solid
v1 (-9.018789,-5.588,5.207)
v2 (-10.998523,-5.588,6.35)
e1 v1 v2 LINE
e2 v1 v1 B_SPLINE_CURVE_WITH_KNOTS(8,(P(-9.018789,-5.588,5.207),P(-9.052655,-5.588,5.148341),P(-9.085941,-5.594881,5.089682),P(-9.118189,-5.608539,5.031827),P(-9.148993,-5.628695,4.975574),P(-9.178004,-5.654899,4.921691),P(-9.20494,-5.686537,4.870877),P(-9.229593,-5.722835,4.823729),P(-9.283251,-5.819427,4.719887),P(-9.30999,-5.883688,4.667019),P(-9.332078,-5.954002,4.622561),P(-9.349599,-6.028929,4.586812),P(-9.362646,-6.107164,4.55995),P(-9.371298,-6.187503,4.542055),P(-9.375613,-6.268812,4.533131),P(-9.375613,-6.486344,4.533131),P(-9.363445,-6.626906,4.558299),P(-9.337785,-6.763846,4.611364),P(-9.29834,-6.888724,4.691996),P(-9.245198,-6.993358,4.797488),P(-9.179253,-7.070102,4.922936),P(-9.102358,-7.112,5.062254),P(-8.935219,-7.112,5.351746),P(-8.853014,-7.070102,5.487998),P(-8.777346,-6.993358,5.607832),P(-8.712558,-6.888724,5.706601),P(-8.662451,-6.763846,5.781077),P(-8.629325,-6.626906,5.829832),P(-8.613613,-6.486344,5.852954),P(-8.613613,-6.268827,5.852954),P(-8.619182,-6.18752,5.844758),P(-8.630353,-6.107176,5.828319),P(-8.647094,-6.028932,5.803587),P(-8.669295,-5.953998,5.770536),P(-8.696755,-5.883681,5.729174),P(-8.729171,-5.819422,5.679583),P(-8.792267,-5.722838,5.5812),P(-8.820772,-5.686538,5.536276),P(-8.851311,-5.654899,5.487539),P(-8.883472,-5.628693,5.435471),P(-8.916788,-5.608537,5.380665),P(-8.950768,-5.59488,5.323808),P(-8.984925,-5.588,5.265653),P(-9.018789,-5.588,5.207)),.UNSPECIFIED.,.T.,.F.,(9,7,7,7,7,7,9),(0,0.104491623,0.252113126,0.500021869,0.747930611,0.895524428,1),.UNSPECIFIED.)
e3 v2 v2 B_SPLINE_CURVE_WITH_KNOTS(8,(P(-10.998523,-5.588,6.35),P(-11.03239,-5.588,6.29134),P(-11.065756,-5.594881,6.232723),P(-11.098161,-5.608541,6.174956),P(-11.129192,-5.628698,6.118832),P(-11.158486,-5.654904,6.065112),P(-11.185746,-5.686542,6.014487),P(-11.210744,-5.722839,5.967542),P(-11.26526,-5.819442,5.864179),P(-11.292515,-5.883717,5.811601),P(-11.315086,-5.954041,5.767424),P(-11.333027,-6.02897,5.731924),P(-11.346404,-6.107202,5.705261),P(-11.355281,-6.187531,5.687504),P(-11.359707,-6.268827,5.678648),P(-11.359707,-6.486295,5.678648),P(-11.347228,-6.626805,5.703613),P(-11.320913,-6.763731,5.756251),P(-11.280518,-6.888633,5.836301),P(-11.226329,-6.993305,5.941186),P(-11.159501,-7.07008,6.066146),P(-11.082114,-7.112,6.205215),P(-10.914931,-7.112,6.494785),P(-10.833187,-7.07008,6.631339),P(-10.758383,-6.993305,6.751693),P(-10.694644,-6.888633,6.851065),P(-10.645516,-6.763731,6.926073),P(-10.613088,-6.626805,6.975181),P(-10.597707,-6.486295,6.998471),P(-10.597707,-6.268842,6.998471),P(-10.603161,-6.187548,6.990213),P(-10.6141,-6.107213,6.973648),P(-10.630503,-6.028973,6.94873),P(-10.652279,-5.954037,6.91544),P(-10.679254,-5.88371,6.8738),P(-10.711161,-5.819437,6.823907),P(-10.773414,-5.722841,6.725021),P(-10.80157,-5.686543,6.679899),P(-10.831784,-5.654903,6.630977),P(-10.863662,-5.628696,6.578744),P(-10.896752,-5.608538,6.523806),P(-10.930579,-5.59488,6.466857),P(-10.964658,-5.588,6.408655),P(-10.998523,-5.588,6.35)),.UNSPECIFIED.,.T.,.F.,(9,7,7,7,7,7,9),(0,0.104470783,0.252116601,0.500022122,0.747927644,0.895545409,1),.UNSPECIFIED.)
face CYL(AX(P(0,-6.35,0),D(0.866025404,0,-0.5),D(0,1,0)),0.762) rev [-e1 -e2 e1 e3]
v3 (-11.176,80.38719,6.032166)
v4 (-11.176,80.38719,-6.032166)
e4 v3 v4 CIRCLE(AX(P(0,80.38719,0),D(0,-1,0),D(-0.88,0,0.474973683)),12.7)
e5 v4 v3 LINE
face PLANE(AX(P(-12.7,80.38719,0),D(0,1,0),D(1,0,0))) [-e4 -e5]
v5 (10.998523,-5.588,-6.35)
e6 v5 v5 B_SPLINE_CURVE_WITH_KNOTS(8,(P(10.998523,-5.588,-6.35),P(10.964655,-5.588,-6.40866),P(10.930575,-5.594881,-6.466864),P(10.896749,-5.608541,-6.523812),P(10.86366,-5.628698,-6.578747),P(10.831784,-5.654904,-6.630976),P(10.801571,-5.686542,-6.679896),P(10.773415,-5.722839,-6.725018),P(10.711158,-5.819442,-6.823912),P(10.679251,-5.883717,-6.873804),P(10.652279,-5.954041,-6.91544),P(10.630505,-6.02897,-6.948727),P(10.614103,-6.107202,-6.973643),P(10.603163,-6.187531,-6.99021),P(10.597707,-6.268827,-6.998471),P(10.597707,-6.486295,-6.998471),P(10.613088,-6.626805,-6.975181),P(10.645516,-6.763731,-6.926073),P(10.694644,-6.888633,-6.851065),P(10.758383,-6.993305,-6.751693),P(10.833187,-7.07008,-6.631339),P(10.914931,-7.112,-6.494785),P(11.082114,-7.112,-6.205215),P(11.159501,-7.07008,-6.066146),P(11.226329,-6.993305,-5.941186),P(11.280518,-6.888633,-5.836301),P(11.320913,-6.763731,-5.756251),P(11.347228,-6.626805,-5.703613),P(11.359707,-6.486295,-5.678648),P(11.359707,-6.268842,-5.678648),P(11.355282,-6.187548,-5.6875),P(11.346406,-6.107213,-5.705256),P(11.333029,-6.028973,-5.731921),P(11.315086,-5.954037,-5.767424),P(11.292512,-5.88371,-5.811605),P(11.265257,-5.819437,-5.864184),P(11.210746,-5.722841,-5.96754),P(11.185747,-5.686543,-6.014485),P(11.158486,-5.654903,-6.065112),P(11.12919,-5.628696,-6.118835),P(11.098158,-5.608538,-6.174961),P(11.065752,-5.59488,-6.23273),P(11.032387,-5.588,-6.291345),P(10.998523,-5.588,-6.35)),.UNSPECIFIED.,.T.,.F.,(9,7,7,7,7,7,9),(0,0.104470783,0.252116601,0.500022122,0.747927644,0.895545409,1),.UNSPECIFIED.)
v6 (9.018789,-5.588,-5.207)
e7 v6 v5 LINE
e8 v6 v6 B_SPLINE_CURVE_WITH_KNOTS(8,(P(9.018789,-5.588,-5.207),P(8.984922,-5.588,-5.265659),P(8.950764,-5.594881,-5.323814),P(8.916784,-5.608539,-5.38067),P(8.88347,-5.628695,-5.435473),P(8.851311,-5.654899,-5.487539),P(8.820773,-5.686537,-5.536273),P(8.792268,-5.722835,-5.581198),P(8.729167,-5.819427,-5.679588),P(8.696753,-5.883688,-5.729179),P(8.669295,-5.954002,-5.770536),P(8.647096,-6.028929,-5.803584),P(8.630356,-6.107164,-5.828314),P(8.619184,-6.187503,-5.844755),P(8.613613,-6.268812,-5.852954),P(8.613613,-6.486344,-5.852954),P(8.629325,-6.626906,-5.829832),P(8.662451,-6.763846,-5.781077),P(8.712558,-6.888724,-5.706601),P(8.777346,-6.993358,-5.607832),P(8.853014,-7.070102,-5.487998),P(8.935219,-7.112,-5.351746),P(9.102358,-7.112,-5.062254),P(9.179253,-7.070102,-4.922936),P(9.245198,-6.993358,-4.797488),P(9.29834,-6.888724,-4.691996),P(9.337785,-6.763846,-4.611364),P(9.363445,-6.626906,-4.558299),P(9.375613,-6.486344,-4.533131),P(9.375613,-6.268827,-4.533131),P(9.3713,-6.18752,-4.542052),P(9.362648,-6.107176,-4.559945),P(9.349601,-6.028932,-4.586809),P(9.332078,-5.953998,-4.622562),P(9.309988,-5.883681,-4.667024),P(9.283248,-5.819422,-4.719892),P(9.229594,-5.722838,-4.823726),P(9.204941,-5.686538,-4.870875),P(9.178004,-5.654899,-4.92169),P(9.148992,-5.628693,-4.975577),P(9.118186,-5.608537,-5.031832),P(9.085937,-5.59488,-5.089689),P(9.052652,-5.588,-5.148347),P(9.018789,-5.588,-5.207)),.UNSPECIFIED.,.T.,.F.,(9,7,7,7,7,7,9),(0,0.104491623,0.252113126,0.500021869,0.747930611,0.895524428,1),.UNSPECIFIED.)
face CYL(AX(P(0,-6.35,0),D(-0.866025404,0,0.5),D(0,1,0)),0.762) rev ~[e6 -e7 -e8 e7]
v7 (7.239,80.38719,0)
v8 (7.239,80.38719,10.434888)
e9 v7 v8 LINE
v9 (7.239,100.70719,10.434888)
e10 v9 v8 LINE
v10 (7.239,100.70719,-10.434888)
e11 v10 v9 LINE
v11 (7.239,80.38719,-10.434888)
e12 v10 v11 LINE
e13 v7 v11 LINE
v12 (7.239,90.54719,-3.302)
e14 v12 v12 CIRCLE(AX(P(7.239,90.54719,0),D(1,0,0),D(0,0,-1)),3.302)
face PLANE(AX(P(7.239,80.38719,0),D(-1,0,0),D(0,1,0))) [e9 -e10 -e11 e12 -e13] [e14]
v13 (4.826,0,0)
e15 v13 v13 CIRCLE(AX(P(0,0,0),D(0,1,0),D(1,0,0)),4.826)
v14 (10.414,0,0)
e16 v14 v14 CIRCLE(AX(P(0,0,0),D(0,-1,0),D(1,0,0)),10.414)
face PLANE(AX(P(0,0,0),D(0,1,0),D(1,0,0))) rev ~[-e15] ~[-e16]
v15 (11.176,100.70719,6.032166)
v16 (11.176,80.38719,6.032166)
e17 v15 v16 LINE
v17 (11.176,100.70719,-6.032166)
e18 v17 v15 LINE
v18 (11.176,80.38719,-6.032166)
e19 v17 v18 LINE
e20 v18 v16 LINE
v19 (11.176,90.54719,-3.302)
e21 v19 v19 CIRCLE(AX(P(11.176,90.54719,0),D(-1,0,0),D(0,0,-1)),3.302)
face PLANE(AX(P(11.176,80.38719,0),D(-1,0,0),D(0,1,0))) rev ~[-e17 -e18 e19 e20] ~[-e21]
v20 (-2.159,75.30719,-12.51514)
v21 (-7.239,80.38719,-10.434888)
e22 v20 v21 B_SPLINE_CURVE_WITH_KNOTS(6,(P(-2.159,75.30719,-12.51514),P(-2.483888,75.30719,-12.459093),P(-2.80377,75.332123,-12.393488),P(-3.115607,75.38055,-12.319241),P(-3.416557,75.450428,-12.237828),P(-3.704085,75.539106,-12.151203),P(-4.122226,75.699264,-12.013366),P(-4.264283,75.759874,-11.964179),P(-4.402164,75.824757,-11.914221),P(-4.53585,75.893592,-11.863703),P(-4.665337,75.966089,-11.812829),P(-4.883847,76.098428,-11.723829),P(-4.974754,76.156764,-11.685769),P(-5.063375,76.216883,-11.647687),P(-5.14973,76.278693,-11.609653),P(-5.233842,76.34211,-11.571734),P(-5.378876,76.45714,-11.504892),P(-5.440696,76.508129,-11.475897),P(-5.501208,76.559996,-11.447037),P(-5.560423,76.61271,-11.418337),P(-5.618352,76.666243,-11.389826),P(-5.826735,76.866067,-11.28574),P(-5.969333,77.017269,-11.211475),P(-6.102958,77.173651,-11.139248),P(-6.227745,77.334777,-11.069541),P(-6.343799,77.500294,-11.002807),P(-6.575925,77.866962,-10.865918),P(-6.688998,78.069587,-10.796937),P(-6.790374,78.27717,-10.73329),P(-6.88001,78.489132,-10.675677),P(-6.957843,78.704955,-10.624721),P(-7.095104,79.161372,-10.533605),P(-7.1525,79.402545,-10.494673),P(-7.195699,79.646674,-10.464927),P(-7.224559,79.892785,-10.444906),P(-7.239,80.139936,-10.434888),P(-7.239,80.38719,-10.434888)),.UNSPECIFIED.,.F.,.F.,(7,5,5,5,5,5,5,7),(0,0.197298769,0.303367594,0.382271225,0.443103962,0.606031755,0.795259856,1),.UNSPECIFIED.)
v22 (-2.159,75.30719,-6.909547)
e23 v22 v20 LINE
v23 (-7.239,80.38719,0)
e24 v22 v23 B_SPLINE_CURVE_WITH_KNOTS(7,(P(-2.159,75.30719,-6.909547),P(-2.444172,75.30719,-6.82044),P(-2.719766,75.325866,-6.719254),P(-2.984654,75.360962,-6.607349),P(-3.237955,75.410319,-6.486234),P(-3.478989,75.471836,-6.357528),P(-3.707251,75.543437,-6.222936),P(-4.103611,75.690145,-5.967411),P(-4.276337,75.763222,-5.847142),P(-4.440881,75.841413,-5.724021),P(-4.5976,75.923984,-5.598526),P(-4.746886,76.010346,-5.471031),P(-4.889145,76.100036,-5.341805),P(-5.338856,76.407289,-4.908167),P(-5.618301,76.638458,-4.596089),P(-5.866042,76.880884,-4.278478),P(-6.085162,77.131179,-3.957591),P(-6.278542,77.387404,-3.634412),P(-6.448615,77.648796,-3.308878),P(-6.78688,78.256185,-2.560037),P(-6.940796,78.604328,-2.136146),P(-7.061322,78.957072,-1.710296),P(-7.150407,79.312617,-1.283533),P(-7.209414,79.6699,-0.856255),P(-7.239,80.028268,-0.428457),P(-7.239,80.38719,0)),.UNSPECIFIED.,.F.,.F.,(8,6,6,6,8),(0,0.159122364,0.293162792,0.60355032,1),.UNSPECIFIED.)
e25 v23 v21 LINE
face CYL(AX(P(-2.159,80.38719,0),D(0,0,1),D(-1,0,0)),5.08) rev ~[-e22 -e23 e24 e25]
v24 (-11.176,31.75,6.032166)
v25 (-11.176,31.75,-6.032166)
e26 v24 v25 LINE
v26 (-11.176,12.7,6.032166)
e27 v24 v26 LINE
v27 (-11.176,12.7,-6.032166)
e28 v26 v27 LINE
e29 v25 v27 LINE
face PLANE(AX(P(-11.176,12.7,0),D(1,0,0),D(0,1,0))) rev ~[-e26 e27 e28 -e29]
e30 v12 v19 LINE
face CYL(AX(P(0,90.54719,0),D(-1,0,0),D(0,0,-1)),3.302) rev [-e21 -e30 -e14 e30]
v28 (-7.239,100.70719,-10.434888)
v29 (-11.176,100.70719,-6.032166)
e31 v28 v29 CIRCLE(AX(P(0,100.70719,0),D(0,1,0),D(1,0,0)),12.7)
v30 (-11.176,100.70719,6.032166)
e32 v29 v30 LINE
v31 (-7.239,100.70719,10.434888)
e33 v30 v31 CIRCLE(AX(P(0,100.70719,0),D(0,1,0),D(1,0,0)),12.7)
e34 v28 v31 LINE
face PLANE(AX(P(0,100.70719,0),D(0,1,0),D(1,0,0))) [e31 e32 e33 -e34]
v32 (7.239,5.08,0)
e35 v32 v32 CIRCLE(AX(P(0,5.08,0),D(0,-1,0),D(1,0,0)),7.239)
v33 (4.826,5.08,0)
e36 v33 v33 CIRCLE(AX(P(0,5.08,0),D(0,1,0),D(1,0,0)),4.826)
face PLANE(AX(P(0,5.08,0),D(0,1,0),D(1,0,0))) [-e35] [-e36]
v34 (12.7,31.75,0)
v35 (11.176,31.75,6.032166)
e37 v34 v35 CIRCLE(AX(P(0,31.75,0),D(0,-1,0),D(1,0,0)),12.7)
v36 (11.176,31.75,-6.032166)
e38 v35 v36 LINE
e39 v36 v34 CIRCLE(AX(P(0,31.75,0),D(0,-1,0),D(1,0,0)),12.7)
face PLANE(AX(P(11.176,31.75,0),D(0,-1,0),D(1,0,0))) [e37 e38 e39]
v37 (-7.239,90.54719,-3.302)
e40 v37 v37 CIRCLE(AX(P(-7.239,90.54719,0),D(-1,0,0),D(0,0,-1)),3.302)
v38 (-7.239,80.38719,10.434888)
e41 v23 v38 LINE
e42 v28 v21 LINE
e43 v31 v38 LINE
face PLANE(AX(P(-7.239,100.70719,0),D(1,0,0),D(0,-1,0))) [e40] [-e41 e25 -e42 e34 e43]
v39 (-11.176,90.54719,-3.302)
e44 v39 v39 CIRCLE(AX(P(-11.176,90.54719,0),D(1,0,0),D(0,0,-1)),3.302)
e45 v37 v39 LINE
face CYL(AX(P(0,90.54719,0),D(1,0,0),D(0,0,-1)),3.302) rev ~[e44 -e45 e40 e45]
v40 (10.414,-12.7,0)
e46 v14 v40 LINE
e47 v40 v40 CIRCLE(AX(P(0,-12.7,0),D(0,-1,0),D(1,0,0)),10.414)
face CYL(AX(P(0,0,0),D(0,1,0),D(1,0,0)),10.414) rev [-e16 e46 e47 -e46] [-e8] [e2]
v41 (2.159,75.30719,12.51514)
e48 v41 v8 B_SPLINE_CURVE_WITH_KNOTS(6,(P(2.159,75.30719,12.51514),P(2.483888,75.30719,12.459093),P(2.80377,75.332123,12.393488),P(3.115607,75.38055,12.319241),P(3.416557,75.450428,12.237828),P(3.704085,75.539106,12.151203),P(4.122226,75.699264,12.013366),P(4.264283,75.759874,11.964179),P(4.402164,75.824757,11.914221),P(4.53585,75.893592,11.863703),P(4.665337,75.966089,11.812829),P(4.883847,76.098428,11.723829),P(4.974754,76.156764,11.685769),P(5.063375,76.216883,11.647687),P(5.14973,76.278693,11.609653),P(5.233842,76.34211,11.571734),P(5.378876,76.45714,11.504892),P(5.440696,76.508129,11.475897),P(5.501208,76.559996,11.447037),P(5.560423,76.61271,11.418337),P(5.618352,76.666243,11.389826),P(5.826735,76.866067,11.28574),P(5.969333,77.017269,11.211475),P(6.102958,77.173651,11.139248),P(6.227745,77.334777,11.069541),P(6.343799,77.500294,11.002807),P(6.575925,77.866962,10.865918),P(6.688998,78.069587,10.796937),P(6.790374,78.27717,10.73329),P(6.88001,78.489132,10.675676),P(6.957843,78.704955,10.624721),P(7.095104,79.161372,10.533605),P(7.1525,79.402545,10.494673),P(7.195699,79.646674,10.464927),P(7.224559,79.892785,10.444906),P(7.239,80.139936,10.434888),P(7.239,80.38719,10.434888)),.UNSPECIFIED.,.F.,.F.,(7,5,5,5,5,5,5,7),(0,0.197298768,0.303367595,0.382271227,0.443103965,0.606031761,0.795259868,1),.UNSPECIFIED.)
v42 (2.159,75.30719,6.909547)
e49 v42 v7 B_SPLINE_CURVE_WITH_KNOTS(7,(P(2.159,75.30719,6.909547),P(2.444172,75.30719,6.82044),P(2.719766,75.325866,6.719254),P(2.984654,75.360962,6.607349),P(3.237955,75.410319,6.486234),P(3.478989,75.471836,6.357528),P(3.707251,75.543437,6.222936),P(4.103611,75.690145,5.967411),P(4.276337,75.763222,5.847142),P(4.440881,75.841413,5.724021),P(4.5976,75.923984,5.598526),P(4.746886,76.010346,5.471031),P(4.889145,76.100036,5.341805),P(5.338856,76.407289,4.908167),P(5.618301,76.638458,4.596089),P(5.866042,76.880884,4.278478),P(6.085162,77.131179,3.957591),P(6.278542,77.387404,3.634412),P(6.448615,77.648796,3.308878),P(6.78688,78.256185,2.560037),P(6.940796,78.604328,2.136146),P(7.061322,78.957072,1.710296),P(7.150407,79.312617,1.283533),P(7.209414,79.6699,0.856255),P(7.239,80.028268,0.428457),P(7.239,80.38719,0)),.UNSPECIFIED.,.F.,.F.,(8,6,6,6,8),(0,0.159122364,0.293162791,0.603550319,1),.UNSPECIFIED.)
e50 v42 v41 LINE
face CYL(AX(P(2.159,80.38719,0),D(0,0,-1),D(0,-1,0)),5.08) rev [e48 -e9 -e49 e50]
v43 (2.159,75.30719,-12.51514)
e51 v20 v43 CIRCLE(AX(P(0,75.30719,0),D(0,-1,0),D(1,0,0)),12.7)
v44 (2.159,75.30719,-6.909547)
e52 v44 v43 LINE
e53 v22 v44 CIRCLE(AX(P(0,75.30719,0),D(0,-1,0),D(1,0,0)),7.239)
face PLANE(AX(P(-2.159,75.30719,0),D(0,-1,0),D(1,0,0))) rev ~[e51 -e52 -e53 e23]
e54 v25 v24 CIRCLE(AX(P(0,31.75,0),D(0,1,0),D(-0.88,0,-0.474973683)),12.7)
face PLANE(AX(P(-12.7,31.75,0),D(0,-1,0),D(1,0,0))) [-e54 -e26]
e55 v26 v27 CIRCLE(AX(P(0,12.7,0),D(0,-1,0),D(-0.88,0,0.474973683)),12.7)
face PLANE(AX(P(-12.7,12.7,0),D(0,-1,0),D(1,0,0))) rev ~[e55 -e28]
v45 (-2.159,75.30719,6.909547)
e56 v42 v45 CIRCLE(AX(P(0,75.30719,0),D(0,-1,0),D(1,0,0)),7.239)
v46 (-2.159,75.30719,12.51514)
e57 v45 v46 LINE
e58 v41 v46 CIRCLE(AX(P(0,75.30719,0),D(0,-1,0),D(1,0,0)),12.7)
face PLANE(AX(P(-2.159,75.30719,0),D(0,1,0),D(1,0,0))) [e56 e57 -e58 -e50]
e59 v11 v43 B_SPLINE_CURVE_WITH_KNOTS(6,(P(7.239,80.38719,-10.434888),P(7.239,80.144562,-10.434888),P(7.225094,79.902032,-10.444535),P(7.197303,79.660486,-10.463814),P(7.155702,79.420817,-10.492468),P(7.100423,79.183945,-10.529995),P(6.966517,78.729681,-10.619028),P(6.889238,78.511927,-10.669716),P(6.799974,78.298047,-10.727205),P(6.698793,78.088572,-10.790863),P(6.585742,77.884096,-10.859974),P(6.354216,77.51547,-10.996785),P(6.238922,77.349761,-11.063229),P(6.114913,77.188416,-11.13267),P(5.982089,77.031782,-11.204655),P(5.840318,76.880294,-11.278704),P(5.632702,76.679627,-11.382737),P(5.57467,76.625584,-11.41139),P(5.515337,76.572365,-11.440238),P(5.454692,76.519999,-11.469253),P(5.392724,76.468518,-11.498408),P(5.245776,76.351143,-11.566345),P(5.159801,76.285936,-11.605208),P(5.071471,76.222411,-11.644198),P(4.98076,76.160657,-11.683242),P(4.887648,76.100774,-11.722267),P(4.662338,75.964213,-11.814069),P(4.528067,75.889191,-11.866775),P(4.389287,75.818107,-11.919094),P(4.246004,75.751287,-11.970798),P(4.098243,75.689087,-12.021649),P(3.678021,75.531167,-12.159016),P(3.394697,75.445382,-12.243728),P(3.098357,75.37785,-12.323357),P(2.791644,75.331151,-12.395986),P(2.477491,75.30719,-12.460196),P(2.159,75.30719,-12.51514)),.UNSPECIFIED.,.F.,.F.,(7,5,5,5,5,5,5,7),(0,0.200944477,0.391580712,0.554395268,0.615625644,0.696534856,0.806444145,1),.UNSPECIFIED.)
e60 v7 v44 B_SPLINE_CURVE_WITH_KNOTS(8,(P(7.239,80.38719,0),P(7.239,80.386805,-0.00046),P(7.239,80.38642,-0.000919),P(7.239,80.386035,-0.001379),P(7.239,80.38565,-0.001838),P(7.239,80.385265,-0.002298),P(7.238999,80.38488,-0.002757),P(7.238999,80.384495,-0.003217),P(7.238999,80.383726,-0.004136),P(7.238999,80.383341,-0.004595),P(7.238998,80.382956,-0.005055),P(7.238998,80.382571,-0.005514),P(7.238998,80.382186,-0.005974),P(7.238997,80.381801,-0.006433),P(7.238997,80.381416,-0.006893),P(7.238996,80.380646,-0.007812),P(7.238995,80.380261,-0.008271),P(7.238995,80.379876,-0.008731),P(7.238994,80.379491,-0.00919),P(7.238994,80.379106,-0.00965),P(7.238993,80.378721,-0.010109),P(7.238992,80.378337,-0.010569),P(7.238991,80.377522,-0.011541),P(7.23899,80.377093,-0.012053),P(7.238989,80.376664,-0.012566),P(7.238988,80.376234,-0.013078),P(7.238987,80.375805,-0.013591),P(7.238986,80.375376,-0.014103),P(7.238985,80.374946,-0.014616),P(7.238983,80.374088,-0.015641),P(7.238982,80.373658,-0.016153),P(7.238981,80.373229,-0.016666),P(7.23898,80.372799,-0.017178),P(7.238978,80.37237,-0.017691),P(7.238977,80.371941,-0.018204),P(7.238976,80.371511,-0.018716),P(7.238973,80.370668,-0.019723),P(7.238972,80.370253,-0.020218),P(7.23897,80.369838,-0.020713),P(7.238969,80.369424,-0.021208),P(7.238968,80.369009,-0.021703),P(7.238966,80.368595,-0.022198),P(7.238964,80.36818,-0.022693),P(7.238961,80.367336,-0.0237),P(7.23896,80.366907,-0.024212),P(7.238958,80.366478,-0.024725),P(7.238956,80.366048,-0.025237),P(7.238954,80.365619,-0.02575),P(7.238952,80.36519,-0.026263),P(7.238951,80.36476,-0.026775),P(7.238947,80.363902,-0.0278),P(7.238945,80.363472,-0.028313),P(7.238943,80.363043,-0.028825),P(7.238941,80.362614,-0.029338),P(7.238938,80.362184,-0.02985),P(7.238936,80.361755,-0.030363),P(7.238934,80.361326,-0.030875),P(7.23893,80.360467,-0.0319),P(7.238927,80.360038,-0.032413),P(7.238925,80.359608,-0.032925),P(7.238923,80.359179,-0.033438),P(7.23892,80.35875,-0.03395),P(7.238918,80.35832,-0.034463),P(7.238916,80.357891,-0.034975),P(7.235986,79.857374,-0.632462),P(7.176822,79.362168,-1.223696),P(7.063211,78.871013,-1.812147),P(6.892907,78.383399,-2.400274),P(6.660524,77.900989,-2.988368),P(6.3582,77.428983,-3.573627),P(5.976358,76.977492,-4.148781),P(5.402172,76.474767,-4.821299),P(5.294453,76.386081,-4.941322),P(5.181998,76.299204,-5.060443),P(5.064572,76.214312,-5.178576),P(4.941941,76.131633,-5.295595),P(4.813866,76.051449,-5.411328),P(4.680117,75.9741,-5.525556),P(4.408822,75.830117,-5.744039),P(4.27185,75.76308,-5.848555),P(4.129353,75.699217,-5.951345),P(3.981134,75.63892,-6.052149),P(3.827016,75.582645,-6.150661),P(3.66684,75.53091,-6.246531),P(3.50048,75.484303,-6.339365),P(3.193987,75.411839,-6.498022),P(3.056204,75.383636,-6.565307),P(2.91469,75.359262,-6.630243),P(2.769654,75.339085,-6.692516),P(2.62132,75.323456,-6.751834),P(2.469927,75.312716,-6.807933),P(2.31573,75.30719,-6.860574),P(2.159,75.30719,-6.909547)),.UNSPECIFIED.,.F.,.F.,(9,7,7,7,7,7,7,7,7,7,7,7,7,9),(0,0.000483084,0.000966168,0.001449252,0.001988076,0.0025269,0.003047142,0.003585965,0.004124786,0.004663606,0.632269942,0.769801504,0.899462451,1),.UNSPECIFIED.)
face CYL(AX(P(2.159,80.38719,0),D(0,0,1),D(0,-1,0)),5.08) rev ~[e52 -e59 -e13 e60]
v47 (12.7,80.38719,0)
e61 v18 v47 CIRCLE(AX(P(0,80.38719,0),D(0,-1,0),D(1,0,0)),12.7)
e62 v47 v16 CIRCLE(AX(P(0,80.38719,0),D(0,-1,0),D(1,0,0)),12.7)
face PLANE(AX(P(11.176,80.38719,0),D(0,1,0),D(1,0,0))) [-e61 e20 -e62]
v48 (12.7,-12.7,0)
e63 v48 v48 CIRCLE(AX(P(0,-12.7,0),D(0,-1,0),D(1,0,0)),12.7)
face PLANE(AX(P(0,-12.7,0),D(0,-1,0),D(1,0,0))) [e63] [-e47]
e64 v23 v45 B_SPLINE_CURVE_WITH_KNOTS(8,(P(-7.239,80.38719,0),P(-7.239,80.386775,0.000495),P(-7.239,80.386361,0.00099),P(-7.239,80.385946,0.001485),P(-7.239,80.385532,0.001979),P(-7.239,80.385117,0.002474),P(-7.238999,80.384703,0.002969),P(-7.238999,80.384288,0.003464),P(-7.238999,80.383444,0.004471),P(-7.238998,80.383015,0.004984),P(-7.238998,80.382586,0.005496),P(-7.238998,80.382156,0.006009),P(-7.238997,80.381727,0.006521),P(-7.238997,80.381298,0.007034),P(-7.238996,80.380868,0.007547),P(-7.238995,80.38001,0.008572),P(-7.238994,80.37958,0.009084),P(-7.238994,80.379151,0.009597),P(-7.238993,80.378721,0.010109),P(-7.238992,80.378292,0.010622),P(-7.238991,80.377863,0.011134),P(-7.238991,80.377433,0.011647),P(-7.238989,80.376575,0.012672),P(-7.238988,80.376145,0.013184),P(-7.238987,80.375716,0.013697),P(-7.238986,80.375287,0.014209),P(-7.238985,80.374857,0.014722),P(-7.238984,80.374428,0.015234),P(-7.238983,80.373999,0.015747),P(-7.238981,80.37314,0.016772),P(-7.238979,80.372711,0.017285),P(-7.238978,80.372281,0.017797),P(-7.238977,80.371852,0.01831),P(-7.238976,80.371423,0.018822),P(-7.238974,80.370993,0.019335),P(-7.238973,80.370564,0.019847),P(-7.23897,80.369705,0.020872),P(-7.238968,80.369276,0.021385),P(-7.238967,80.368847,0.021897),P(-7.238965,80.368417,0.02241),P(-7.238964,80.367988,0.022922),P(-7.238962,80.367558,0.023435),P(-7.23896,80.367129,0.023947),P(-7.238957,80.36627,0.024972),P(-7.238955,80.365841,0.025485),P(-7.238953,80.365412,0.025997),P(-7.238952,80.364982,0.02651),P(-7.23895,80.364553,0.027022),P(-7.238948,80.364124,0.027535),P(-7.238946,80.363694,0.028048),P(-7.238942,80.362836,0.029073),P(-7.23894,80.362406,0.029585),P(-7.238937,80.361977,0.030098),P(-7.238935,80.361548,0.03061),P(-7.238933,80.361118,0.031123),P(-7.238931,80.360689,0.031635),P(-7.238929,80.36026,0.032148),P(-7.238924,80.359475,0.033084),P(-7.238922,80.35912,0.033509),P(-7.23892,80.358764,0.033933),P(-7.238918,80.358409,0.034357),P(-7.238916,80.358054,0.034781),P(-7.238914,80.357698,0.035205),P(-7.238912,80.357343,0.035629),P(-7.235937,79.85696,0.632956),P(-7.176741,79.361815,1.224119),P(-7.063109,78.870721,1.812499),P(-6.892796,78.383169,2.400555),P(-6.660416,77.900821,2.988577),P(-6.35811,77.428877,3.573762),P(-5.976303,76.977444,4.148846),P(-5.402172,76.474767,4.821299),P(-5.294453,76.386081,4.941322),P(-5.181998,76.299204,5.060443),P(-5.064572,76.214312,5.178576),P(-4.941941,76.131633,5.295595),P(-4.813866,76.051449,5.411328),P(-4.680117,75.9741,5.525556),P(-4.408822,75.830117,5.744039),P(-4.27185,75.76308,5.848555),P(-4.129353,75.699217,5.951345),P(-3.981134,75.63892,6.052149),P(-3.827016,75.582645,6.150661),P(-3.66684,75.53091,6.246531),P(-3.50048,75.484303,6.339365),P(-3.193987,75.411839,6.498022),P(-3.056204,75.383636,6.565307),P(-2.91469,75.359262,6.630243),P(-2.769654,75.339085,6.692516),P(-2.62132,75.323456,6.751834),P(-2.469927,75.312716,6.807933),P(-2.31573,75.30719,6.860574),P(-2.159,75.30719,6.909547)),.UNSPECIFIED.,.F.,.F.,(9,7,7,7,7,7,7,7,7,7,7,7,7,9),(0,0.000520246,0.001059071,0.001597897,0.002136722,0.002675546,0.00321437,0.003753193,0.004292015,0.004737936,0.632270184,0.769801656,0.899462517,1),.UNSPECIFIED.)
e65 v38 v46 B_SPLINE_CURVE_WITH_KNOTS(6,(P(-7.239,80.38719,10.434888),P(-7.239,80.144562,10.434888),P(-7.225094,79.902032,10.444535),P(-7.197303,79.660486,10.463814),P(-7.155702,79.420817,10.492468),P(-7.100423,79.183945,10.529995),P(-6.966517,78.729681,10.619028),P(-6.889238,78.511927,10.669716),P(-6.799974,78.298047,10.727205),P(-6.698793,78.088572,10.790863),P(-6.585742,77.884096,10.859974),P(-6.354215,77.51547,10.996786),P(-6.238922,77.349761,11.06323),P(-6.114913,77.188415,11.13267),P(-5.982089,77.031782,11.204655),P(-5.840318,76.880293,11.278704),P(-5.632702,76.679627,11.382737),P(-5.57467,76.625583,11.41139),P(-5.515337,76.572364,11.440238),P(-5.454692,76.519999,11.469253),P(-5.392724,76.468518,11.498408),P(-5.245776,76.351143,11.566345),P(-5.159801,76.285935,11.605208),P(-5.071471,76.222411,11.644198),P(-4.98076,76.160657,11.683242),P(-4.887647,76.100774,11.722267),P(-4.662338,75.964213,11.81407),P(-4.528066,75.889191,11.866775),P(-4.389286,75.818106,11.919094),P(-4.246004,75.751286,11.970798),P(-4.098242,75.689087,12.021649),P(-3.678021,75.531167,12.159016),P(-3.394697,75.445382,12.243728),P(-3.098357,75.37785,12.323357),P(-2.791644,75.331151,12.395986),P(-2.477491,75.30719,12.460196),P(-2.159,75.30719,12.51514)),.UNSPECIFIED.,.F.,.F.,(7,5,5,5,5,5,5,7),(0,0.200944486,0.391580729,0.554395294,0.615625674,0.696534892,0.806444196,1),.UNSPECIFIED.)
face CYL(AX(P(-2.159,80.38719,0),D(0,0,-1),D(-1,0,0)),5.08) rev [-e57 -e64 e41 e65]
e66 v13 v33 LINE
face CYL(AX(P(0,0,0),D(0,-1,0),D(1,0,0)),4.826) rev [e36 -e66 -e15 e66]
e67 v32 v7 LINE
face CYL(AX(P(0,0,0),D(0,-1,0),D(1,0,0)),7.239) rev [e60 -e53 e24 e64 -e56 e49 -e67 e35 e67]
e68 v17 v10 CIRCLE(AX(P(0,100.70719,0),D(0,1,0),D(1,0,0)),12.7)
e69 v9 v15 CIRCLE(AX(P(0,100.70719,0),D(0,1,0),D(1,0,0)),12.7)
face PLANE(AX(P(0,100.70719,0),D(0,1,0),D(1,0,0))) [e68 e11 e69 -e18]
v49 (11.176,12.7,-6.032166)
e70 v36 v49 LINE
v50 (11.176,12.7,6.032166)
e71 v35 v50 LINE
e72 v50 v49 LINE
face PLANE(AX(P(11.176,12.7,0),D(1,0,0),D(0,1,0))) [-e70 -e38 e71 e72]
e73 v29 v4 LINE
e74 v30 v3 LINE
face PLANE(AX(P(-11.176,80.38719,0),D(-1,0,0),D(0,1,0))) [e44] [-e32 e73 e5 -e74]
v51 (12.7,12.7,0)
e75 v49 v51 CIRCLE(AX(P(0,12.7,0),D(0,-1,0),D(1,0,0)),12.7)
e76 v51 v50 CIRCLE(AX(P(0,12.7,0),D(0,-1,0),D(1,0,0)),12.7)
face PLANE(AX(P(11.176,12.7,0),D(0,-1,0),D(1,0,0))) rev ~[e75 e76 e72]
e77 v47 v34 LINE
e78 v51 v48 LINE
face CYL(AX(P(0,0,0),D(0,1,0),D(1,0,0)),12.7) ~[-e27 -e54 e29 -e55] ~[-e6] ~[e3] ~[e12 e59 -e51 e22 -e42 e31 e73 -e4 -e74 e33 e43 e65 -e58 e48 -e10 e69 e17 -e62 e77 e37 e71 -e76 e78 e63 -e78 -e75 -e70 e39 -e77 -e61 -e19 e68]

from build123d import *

# Parameters (mm, degrees)
SKETCH1_R                                     = 12.7
SKETCH1_R_2                                   = 4.826
SOCKET_HEAD_STOP_DEPTH                        = 5.08
SKETCH2_R                                     = 12.7
SKETCH2_R_2                                   = 7.239
MAIN_BODY_DEPTH                               = 100.70719
SKETCH6_R                                     = 3.302
ROD_END_MOUNTING_HOLES_DEPTH                  = 13.7
ROD_END_MOUNTING_HOLES_DEPTH_BACK             = 13.7
SKETCH3_W                                     = 1.524
SKETCH3_H                                     = 19.05
SKETCH3_H_2                                   = 20.32
ROD_END_BODY_HOLES_AND_WRENCH_CUTS_DEPTH      = 13.7000001
ROD_END_BODY_HOLES_AND_WRENCH_CUTS_DEPTH_BACK = 13.7000001
SKETCH4_R                                     = 12.7
SKETCH4_R_2                                   = 10.414
RACK_COVER_DEPTH                              = 12.7
SKETCH7_R                                     = 0.762
SAFETY_WIRE_HOLES_DEPTH                       = 18.348522765
SAFETY_WIRE_HOLES_DEPTH_BACK                  = 18.348522765


with BuildPart() as part:
    # Sketch1 → Socket Head Stop (new body)
    with BuildSketch(Plane(origin=(0, 0, 0), x_dir=(1, 0, 0), z_dir=(0, 1, 0))):
        Circle(SKETCH1_R)
        Circle(SKETCH1_R_2, mode=Mode.SUBTRACT)
    extrude(amount=SOCKET_HEAD_STOP_DEPTH)

    # Sketch2 → Main Body (add)
    with BuildSketch(Plane(origin=(0, 0, 0), x_dir=(1, 0, 0), z_dir=(0, 1, 0))):
        Circle(SKETCH2_R)
        Circle(SKETCH2_R_2, mode=Mode.SUBTRACT)
    extrude(amount=MAIN_BODY_DEPTH)

    # Sketch6 → Rod End Mounting Holes (cut, two sides)
    with BuildSketch(Plane(origin=(0, 0, 0), x_dir=(0, 0, -1), z_dir=(1, 0, 0))) as rod_end_mounting_holes_sk:
        with Locations((0, 90.54719)):
            Circle(SKETCH6_R)
    extrude(amount=ROD_END_MOUNTING_HOLES_DEPTH, mode=Mode.SUBTRACT)
    extrude(rod_end_mounting_holes_sk.sketch, amount=-ROD_END_MOUNTING_HOLES_DEPTH_BACK, mode=Mode.SUBTRACT)

    # Sketch3 → Rod End Body Holes And Wrench Cuts (cut, two sides)
    with BuildSketch(Plane.XY) as rod_end_body_holes_and_wrench_cuts_sk:
        with BuildLine():
            Line((7.239, 100.70719), (-7.239, 100.70719))
            Line((-7.239, 100.70719), (-7.239, 80.38719))
            ThreePointArc((-7.239, 80.38719), (-5.751102448, 76.795087552), (-2.159, 75.30719))
            Line((-2.159, 75.30719), (2.159, 75.30719))
            ThreePointArc((2.159, 75.30719), (5.751102448, 76.795087552), (7.239, 80.38719))
            Line((7.239, 80.38719), (7.239, 100.70719))
        make_face()
        with Locations((11.938, 22.225)):
            Rectangle(SKETCH3_W, SKETCH3_H)
        with Locations((-11.938, 90.54719)):
            Rectangle(SKETCH3_W, SKETCH3_H_2)
        with Locations((11.938, 90.54719)):
            Rectangle(SKETCH3_W, SKETCH3_H_2)
        with Locations((-11.938, 22.225)):
            Rectangle(SKETCH3_W, SKETCH3_H)
    extrude(amount=ROD_END_BODY_HOLES_AND_WRENCH_CUTS_DEPTH, mode=Mode.SUBTRACT)
    extrude(rod_end_body_holes_and_wrench_cuts_sk.sketch, amount=-ROD_END_BODY_HOLES_AND_WRENCH_CUTS_DEPTH_BACK, mode=Mode.SUBTRACT)

    # Sketch4 → Rack Cover (add)
    with BuildSketch(Plane.XZ):
        Circle(SKETCH4_R)
        Circle(SKETCH4_R_2, mode=Mode.SUBTRACT)
    extrude(amount=RACK_COVER_DEPTH)

    # Sketch7 → Safety Wire Holes (cut, two sides)
    with BuildSketch(Plane(origin=(0, 0, 0), x_dir=(0, 1, 0), z_dir=(-0.866025404, 0, 0.5))) as safety_wire_holes_sk:
        with Locations((-6.35, 0)):
            Circle(SKETCH7_R)
    extrude(amount=SAFETY_WIRE_HOLES_DEPTH, mode=Mode.SUBTRACT)
    extrude(safety_wire_holes_sk.sketch, amount=-SAFETY_WIRE_HOLES_DEPTH_BACK, mode=Mode.SUBTRACT)


solid = part.part
